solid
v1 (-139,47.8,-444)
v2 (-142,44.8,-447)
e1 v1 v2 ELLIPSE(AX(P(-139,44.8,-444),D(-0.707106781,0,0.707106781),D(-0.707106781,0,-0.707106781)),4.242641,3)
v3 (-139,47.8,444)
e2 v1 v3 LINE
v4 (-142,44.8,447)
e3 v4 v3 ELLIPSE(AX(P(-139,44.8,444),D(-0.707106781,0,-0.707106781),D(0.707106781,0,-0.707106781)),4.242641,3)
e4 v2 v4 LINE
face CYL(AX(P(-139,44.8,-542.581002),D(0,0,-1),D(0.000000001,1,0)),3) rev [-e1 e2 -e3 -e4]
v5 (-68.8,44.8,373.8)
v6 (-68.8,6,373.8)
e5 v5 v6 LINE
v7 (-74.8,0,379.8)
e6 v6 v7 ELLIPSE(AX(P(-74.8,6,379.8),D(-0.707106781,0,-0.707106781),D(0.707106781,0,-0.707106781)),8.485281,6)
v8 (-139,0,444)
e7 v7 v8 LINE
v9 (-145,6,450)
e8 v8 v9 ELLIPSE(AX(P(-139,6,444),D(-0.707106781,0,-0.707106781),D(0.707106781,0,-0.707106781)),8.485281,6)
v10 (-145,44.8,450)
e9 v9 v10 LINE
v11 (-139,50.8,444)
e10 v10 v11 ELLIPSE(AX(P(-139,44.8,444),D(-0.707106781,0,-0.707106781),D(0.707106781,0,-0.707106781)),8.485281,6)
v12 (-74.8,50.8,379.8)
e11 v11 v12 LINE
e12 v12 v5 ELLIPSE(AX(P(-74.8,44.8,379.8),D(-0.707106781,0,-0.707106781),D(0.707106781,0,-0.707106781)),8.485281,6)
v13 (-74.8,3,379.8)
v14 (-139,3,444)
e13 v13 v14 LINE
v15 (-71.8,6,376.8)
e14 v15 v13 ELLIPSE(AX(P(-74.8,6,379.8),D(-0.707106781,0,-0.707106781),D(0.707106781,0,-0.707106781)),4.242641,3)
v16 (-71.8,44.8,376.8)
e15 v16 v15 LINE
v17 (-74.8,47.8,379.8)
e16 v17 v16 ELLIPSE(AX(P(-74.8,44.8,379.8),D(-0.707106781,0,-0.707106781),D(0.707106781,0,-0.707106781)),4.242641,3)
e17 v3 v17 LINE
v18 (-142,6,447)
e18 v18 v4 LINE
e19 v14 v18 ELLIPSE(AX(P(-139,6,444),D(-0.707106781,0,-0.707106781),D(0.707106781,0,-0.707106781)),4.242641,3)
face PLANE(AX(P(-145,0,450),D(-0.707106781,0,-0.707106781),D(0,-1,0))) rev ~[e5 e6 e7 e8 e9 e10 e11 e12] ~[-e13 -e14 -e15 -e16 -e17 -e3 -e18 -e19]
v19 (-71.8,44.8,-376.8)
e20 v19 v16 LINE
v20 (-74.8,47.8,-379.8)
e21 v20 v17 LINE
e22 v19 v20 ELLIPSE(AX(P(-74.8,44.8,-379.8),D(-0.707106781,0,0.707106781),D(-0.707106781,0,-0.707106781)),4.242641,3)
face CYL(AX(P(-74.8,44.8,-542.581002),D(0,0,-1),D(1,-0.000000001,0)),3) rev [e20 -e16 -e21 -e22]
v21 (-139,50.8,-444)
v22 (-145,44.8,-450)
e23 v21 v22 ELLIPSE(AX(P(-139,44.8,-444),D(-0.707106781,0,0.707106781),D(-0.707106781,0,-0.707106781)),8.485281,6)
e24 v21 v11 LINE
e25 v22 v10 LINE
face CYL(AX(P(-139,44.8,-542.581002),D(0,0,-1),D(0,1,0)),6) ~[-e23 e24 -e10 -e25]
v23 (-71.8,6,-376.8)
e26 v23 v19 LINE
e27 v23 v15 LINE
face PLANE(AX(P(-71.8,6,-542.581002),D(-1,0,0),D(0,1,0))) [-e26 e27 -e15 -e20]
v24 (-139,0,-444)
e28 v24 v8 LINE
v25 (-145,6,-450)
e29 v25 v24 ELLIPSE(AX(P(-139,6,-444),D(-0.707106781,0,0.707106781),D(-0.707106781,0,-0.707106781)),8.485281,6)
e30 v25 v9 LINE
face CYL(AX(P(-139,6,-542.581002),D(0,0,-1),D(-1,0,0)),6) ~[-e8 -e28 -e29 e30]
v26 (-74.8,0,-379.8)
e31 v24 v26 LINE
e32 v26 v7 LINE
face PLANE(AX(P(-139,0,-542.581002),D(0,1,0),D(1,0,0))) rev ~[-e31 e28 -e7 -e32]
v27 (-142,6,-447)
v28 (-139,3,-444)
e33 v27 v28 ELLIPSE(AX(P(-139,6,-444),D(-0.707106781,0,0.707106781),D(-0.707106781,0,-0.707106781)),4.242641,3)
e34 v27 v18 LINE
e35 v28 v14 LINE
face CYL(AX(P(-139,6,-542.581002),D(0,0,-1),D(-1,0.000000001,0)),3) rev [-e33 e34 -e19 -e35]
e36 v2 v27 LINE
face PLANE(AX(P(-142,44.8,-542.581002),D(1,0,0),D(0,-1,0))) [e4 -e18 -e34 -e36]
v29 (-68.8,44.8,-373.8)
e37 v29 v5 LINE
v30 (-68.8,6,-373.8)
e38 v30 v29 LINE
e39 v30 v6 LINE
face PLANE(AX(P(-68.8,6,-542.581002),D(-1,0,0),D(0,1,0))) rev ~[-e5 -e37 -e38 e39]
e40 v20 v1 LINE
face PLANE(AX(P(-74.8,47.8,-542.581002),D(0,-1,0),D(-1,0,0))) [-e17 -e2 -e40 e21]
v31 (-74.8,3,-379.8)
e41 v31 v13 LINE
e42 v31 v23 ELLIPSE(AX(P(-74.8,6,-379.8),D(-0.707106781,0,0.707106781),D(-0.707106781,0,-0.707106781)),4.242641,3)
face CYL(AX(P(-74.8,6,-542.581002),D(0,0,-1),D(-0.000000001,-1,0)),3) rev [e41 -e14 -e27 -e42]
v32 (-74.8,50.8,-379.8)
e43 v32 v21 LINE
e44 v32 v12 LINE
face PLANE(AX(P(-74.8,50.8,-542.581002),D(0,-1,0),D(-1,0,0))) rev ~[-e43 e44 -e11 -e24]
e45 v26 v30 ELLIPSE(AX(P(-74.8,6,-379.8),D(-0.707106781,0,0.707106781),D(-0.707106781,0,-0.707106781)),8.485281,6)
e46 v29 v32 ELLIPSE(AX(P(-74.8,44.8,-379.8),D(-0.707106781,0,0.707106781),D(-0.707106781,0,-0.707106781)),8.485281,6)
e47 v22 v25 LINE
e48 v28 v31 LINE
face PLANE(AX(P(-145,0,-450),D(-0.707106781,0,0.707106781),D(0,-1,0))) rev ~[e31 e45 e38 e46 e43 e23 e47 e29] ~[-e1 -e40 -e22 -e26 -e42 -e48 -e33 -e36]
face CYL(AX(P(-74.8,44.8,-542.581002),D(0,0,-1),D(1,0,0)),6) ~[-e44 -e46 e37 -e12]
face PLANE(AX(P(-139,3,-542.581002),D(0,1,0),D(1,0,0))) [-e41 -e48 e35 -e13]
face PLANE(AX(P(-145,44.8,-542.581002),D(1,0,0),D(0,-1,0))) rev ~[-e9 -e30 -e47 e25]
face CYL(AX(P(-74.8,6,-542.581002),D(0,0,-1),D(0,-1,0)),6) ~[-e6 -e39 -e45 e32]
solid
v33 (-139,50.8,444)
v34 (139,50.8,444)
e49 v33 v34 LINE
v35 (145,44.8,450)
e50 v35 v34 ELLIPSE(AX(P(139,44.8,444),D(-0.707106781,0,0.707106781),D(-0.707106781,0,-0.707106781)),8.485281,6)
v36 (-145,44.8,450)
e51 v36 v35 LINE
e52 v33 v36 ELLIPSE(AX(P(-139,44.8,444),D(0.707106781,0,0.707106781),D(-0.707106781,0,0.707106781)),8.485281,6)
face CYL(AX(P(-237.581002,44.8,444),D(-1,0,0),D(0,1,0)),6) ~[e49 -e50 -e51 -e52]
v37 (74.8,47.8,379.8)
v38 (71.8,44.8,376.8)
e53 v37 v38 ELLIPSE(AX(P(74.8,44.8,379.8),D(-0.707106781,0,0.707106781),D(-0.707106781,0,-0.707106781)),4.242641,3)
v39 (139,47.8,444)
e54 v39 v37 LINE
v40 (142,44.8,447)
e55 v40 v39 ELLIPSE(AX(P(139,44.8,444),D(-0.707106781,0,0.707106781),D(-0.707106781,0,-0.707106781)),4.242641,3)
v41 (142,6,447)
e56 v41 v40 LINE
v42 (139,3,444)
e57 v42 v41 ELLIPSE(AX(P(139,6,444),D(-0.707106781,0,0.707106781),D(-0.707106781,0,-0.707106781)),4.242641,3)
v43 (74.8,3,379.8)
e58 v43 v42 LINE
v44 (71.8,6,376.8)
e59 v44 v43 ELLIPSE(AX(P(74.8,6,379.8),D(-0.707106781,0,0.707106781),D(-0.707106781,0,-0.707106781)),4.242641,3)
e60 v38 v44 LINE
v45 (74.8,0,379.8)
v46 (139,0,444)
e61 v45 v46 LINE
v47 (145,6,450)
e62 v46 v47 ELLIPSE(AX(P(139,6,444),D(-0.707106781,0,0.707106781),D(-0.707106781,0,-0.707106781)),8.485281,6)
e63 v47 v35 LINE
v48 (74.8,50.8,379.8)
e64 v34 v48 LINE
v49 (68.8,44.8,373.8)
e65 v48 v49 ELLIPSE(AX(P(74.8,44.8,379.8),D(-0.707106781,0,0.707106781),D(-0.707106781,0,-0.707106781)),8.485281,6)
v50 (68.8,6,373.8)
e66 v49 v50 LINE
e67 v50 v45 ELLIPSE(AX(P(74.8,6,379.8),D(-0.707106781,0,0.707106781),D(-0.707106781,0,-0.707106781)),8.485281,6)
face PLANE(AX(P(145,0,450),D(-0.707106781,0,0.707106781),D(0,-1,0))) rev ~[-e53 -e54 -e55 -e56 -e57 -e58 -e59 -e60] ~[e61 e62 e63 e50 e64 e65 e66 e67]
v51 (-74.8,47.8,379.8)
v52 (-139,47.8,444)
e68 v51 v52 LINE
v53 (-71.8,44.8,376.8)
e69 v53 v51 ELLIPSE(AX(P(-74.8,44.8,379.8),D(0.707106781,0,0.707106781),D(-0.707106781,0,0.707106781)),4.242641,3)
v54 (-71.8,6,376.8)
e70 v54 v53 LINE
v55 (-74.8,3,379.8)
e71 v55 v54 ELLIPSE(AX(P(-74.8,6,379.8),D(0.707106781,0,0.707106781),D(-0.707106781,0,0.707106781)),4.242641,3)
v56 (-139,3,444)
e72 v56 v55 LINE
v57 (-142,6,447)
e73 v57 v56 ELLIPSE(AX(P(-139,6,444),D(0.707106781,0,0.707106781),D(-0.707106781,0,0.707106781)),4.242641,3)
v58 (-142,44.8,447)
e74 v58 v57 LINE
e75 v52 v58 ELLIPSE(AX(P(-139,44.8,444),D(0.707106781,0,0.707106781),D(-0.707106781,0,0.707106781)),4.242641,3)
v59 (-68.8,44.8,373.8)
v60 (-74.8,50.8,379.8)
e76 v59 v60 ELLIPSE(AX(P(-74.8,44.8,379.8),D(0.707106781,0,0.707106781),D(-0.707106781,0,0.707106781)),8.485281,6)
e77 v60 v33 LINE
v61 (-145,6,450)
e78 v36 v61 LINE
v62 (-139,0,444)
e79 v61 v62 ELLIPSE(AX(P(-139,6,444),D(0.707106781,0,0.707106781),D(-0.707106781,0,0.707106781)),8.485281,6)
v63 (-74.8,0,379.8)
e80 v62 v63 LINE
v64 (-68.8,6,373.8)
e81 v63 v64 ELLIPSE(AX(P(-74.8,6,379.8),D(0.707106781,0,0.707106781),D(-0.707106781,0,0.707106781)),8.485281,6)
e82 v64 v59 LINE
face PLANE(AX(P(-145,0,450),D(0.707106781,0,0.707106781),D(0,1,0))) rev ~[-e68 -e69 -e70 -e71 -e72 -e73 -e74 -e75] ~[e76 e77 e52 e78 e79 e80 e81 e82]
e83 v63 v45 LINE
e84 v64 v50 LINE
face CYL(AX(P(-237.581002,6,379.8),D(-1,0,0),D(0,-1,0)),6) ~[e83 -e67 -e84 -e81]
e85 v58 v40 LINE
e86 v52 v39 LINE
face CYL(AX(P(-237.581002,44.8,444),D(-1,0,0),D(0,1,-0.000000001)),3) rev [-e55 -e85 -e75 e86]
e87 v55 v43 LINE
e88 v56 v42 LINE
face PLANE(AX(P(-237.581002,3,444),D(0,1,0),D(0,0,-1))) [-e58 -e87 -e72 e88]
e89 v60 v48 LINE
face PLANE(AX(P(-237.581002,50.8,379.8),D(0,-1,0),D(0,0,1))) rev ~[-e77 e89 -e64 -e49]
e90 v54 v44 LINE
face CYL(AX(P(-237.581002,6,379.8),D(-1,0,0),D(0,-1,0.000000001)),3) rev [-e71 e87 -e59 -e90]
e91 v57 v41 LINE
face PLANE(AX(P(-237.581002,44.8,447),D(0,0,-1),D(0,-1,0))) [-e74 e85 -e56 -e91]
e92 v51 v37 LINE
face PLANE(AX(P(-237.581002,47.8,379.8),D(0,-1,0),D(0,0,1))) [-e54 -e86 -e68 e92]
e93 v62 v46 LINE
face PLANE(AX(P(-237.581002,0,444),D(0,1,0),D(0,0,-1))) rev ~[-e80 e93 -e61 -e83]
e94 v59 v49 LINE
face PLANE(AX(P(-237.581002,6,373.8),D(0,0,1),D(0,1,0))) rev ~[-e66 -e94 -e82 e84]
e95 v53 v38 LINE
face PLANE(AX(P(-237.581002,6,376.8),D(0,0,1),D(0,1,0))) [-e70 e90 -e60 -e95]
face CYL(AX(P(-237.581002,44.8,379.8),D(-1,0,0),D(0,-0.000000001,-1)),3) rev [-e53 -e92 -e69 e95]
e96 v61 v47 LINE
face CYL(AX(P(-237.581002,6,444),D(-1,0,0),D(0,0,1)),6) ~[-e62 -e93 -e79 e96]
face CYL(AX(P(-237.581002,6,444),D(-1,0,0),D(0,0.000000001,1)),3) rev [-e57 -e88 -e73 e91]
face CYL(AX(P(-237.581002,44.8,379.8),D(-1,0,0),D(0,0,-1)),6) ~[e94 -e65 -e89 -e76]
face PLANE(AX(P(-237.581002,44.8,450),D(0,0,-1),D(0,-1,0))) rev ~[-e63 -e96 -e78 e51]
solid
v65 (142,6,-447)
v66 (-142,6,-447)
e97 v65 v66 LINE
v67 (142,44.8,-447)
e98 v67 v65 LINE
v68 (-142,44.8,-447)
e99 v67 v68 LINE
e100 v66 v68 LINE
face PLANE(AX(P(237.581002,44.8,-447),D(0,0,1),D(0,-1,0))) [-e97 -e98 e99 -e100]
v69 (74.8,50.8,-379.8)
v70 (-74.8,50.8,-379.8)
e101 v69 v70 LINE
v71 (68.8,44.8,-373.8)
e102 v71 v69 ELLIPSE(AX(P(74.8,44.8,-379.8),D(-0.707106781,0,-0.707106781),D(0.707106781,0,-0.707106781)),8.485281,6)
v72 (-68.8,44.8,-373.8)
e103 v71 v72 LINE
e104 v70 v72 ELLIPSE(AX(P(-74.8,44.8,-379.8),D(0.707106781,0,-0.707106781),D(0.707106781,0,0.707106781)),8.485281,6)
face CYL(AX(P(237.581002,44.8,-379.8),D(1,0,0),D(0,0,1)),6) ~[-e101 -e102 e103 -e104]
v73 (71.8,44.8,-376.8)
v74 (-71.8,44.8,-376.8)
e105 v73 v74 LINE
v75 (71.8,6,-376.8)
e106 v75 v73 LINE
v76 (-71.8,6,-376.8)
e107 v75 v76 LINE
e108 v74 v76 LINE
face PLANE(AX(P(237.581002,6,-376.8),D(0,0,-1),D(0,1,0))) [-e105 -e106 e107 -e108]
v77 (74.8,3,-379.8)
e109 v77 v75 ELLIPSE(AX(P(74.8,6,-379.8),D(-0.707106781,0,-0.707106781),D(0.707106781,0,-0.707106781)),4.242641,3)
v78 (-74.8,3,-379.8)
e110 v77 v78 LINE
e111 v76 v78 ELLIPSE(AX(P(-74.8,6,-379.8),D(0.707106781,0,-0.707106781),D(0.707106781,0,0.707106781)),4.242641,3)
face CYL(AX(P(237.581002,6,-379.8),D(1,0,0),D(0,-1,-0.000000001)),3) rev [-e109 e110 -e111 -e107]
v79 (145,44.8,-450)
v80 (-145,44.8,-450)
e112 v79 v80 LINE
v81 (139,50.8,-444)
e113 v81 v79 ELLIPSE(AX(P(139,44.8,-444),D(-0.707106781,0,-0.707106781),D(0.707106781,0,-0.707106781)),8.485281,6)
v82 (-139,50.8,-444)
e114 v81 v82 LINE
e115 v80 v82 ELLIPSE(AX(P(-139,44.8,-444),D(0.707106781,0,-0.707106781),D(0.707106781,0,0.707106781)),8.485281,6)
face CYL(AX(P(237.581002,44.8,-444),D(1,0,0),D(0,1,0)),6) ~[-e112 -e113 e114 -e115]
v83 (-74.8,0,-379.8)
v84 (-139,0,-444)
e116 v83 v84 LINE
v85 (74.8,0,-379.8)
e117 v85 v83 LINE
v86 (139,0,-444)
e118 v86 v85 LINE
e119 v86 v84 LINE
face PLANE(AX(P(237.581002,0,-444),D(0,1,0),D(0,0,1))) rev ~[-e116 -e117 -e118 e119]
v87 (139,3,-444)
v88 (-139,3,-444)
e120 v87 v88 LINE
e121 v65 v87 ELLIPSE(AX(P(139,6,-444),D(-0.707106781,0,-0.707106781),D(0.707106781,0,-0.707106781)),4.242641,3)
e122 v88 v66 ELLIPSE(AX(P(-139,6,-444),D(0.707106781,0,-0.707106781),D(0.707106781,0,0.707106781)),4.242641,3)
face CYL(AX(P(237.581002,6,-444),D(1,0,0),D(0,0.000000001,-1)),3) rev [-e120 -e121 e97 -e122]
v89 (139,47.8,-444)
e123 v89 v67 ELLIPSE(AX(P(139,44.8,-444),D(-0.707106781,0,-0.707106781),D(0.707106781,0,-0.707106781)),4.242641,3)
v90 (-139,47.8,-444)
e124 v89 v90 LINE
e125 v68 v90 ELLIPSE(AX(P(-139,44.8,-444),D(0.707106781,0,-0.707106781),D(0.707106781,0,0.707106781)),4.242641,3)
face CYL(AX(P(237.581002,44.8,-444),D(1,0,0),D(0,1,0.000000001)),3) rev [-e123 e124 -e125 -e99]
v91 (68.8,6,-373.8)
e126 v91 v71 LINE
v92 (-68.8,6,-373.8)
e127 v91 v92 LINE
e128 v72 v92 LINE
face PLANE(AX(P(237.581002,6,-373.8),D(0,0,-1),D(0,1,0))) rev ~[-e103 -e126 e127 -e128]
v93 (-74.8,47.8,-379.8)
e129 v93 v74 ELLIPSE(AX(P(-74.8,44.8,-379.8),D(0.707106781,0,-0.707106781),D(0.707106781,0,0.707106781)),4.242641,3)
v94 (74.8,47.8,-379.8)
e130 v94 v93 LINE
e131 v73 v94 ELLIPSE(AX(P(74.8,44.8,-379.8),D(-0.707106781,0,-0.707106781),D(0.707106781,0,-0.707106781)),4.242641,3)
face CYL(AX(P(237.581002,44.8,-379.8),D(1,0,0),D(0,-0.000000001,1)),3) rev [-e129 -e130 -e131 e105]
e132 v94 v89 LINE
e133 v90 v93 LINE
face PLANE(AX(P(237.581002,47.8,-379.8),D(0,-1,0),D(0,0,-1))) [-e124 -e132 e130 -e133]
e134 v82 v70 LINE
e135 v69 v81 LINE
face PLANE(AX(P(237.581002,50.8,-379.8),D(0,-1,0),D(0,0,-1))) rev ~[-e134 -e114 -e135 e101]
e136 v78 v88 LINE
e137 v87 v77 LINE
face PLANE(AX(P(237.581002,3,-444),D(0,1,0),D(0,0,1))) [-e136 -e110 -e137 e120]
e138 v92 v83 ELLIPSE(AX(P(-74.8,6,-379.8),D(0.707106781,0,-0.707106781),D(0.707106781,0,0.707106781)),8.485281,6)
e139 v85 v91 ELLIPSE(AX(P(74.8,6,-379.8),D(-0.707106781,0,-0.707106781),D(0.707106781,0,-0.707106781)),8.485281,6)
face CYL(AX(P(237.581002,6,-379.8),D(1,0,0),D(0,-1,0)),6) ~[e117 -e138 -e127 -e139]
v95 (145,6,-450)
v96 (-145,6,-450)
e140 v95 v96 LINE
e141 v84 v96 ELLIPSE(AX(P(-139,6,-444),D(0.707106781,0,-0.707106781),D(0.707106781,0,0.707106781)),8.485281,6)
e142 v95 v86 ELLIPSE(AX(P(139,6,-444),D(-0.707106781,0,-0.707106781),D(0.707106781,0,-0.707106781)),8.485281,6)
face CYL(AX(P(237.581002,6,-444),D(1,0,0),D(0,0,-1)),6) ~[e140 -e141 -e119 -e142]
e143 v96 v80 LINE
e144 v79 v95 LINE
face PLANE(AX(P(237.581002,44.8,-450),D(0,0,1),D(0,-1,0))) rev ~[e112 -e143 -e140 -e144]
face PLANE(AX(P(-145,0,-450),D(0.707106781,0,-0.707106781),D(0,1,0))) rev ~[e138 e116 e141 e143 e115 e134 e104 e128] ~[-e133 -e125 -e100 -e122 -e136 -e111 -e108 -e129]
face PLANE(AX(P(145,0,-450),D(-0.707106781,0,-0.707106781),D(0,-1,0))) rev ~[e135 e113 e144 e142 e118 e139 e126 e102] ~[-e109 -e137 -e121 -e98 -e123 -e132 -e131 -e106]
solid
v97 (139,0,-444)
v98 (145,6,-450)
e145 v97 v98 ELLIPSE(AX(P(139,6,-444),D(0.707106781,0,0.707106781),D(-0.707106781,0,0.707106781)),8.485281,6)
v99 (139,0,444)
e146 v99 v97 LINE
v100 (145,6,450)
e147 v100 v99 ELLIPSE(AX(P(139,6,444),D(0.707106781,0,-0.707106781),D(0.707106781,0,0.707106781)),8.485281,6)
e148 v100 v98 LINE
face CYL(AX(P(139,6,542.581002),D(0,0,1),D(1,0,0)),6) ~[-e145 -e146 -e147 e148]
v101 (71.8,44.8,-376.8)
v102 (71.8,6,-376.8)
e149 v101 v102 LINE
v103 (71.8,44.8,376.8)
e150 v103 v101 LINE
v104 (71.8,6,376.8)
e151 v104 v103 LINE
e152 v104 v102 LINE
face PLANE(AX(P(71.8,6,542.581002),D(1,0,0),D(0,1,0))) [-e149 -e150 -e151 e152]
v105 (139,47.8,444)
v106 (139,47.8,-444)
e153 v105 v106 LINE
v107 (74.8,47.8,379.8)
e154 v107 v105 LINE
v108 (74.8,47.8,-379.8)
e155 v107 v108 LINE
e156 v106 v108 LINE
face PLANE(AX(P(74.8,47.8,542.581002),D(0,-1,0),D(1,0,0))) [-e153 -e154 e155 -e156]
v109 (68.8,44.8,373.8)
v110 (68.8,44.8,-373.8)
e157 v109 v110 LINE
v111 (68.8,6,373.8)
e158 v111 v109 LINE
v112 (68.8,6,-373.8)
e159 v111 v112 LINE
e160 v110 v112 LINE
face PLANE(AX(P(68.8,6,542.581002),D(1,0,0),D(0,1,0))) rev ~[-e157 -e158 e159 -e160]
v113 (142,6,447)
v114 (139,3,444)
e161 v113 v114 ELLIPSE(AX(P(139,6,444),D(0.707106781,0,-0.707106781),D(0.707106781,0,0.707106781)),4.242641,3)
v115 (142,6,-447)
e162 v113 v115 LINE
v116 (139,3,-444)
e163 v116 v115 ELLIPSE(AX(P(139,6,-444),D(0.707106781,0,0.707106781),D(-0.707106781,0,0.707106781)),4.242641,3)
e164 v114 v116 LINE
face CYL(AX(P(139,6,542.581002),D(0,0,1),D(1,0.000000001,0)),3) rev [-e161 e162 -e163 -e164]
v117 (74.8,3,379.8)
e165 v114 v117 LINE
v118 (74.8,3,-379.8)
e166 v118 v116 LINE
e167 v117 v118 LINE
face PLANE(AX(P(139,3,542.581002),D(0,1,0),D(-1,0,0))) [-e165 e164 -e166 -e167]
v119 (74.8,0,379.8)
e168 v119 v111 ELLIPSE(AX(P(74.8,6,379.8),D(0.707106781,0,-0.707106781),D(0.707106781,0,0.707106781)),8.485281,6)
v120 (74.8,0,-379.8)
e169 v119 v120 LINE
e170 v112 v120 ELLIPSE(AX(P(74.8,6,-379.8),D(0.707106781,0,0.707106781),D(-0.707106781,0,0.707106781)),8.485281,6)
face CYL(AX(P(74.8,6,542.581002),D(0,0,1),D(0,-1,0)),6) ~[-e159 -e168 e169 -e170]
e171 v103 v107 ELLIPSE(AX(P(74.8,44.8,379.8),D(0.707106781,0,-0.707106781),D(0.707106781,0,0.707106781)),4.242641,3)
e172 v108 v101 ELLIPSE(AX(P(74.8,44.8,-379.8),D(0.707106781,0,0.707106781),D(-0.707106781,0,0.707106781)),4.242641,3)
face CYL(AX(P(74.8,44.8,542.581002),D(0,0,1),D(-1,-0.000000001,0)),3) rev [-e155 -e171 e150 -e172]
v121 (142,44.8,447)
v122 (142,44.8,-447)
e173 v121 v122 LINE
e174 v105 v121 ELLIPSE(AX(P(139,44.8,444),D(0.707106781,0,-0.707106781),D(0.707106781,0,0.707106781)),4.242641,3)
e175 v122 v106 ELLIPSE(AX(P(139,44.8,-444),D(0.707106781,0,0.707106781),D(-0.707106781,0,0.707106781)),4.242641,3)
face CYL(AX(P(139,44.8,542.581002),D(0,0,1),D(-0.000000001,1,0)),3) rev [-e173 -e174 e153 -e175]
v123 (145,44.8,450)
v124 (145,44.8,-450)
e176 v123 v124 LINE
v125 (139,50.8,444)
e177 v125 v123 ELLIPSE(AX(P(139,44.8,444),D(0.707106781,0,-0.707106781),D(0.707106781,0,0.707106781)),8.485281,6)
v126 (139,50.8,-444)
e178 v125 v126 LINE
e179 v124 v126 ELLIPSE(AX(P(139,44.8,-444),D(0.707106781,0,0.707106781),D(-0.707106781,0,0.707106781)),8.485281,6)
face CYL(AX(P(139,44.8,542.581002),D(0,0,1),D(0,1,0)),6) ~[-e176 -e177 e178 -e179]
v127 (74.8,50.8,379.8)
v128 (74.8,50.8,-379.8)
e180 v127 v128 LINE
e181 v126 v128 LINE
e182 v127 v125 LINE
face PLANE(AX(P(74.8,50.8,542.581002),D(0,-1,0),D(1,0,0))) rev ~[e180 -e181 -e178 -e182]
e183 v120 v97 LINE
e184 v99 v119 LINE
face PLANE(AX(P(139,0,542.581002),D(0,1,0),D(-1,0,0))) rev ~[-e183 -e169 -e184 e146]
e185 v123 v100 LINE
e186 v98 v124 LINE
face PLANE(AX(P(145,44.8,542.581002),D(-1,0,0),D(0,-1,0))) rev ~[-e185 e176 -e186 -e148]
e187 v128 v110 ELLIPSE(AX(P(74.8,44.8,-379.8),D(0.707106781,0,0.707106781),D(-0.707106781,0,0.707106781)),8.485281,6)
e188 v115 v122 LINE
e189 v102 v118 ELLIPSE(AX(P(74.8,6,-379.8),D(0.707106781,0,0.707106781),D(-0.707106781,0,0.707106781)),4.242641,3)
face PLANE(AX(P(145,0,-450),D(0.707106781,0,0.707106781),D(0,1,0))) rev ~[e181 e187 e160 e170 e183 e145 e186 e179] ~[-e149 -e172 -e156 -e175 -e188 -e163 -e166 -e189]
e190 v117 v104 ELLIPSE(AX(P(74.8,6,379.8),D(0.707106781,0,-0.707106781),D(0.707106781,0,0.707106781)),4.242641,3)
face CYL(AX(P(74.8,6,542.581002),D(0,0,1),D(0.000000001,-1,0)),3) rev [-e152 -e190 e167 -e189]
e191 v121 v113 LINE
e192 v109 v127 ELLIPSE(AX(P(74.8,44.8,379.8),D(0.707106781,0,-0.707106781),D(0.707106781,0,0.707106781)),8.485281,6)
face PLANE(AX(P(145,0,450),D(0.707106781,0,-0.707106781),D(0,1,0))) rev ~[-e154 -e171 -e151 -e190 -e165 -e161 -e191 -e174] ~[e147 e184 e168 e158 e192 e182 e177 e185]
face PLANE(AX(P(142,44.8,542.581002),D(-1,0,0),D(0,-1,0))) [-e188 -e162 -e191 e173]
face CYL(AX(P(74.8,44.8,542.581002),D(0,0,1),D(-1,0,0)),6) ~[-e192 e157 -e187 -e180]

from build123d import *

# Parameters (mm, degrees)
TUBO_RECTANGULAR_3_X_2_X_0_25_1_DEPTH      = 992.581002397
TUBO_RECTANGULAR_3_X_2_X_0_25_1_DEPTH_BACK = 92.581002397
TUBO_RECTANGULAR_3_X_2_X_0_25_1_2_DEPTH    = 475.162004794
TUBO_RECTANGULAR_3_X_2_X_0_25_1_3_DEPTH    = 1085.162004794
TUBO_RECTANGULAR_3_X_2_X_0_25_1_4_DEPTH    = 475.162004794


with BuildPart() as part:
    # Sketch1 → Tubo rectangular 3 X 2 X 0.25(1) (new, two sides: drawn at the far end of the back side and taken through both)
    with BuildSketch(Plane(origin=(-106.9, 25.4, -450), x_dir=(1, 0, 0), z_dir=(0, 0, 1)).offset(-TUBO_RECTANGULAR_3_X_2_X_0_25_1_DEPTH_BACK)):
        with BuildLine():
            Line((-32.1, -25.4), (32.1, -25.4))
            ThreePointArc((32.1, -25.4), (36.342640687, -23.642640687), (38.1, -19.4))
            Line((38.1, -19.4), (38.1, 19.4))
            ThreePointArc((38.1, 19.4), (36.342640687, 23.642640687), (32.1, 25.4))
            Line((32.1, 25.4), (-32.1, 25.4))
            ThreePointArc((-32.1, 25.4), (-36.342640687, 23.642640687), (-38.1, 19.4))
            Line((-38.1, 19.4), (-38.1, -19.4))
            ThreePointArc((-38.1, -19.4), (-36.342640687, -23.642640687), (-32.1, -25.4))
        make_face()
        with BuildLine():
            Line((-32.1, -22.4), (32.1, -22.4))
            ThreePointArc((32.1, -22.4), (34.221320344, -21.521320344), (35.1, -19.4))
            Line((35.1, -19.4), (35.1, 19.4))
            ThreePointArc((35.1, 19.4), (34.221320344, 21.521320344), (32.1, 22.4))
            Line((32.1, 22.4), (-32.1, 22.4))
            ThreePointArc((-32.1, 22.4), (-34.221320344, 21.521320344), (-35.1, 19.4))
            Line((-35.1, 19.4), (-35.1, -19.4))
            ThreePointArc((-35.1, -19.4), (-34.221320344, -21.521320344), (-32.1, -22.4))
        make_face(mode=Mode.SUBTRACT)
    extrude(amount=TUBO_RECTANGULAR_3_X_2_X_0_25_1_DEPTH + TUBO_RECTANGULAR_3_X_2_X_0_25_1_DEPTH_BACK)

    # Tubo rectangular 3 X 2 X 0.25(1) mitre 1
    split(bisect_by=Plane(origin=(-145, 0, -450), x_dir=(0, -1, 0), z_dir=(-0.707106781, 0, 0.707106781)), keep=Keep.TOP)

    # Tubo rectangular 3 X 2 X 0.25(1) mitre 2
    split(bisect_by=Plane(origin=(-145, 0, 450), x_dir=(0, -1, 0), z_dir=(-0.707106781, 0, -0.707106781)), keep=Keep.TOP)


with BuildPart() as body_2:
    # Sketch1 on segment 2 (carried to segment 2) → Tubo rectangular 3 X 2 X 0.25_1 2 (new body)
    with BuildSketch(Plane(origin=(-237.581002397, 25.4, 411.9), x_dir=(0, 0, -1), z_dir=(1, 0, 0))):
        with BuildLine():
            Line((-32.1, -25.4), (32.1, -25.4))
            ThreePointArc((32.1, -25.4), (36.342640687, -23.642640687), (38.1, -19.4))
            Line((38.1, -19.4), (38.1, 19.4))
            ThreePointArc((38.1, 19.4), (36.342640687, 23.642640687), (32.1, 25.4))
            Line((32.1, 25.4), (-32.1, 25.4))
            ThreePointArc((-32.1, 25.4), (-36.342640687, 23.642640687), (-38.1, 19.4))
            Line((-38.1, 19.4), (-38.1, -19.4))
            ThreePointArc((-38.1, -19.4), (-36.342640687, -23.642640687), (-32.1, -25.4))
        make_face()
        with BuildLine():
            Line((-32.1, -22.4), (32.1, -22.4))
            ThreePointArc((32.1, -22.4), (34.221320344, -21.521320344), (35.1, -19.4))
            Line((35.1, -19.4), (35.1, 19.4))
            ThreePointArc((35.1, 19.4), (34.221320344, 21.521320344), (32.1, 22.4))
            Line((32.1, 22.4), (-32.1, 22.4))
            ThreePointArc((-32.1, 22.4), (-34.221320344, 21.521320344), (-35.1, 19.4))
            Line((-35.1, 19.4), (-35.1, -19.4))
            ThreePointArc((-35.1, -19.4), (-34.221320344, -21.521320344), (-32.1, -22.4))
        make_face(mode=Mode.SUBTRACT)
    extrude(amount=TUBO_RECTANGULAR_3_X_2_X_0_25_1_2_DEPTH)

    # Tubo rectangular 3 X 2 X 0.25_1 2 mitre
    split(bisect_by=Plane(origin=(-145, 0, 450), x_dir=(0, 1, 0), z_dir=(0.707106781, 0, 0.707106781)), keep=Keep.TOP)

    # Tubo rectangular 3 X 2 X 0.25_1 2 mi 2
    split(bisect_by=Plane(origin=(145, 0, 450), x_dir=(0, -1, 0), z_dir=(-0.707106781, 0, 0.707106781)), keep=Keep.TOP)


with BuildPart() as body_3:
    # Sketch1 on segment 3 (carried to segment 3) → Tubo rectangular 3 X 2 X 0.25_1 3 (new body)
    with BuildSketch(Plane(origin=(106.9, 25.4, 542.581002397), x_dir=(-1, 0, 0), z_dir=(0, 0, -1))):
        with BuildLine():
            Line((-32.1, -25.4), (32.1, -25.4))
            ThreePointArc((32.1, -25.4), (36.342640687, -23.642640687), (38.1, -19.4))
            Line((38.1, -19.4), (38.1, 19.4))
            ThreePointArc((38.1, 19.4), (36.342640687, 23.642640687), (32.1, 25.4))
            Line((32.1, 25.4), (-32.1, 25.4))
            ThreePointArc((-32.1, 25.4), (-36.342640687, 23.642640687), (-38.1, 19.4))
            Line((-38.1, 19.4), (-38.1, -19.4))
            ThreePointArc((-38.1, -19.4), (-36.342640687, -23.642640687), (-32.1, -25.4))
        make_face()
        with BuildLine():
            Line((-32.1, -22.4), (32.1, -22.4))
            ThreePointArc((32.1, -22.4), (34.221320344, -21.521320344), (35.1, -19.4))
            Line((35.1, -19.4), (35.1, 19.4))
            ThreePointArc((35.1, 19.4), (34.221320344, 21.521320344), (32.1, 22.4))
            Line((32.1, 22.4), (-32.1, 22.4))
            ThreePointArc((-32.1, 22.4), (-34.221320344, 21.521320344), (-35.1, 19.4))
            Line((-35.1, 19.4), (-35.1, -19.4))
            ThreePointArc((-35.1, -19.4), (-34.221320344, -21.521320344), (-32.1, -22.4))
        make_face(mode=Mode.SUBTRACT)
    extrude(amount=TUBO_RECTANGULAR_3_X_2_X_0_25_1_3_DEPTH)

    # Tubo rectangular 3 X 2 X 0.25_1 3 mitre
    split(bisect_by=Plane(origin=(145, 0, -450), x_dir=(0, 1, 0), z_dir=(0.707106781, 0, 0.707106781)), keep=Keep.TOP)

    # Tubo rectangular 3 X 2 X 0.25_1 3 mi 2
    split(bisect_by=Plane(origin=(145, 0, 450), x_dir=(0, 1, 0), z_dir=(0.707106781, 0, -0.707106781)), keep=Keep.TOP)


with BuildPart() as body_4:
    # Sketch1 on segment 4 (carried to segment 4) → Tubo rectangular 3 X 2 X 0.25_1 4 (new body)
    with BuildSketch(Plane(origin=(237.581002397, 25.4, -411.9), x_dir=(0, 0, 1), z_dir=(-1, 0, 0))):
        with BuildLine():
            Line((-32.1, -25.4), (32.1, -25.4))
            ThreePointArc((32.1, -25.4), (36.342640687, -23.642640687), (38.1, -19.4))
            Line((38.1, -19.4), (38.1, 19.4))
            ThreePointArc((38.1, 19.4), (36.342640687, 23.642640687), (32.1, 25.4))
            Line((32.1, 25.4), (-32.1, 25.4))
            ThreePointArc((-32.1, 25.4), (-36.342640687, 23.642640687), (-38.1, 19.4))
            Line((-38.1, 19.4), (-38.1, -19.4))
            ThreePointArc((-38.1, -19.4), (-36.342640687, -23.642640687), (-32.1, -25.4))
        make_face()
        with BuildLine():
            Line((-32.1, -22.4), (32.1, -22.4))
            ThreePointArc((32.1, -22.4), (34.221320344, -21.521320344), (35.1, -19.4))
            Line((35.1, -19.4), (35.1, 19.4))
            ThreePointArc((35.1, 19.4), (34.221320344, 21.521320344), (32.1, 22.4))
            Line((32.1, 22.4), (-32.1, 22.4))
            ThreePointArc((-32.1, 22.4), (-34.221320344, 21.521320344), (-35.1, 19.4))
            Line((-35.1, 19.4), (-35.1, -19.4))
            ThreePointArc((-35.1, -19.4), (-34.221320344, -21.521320344), (-32.1, -22.4))
        make_face(mode=Mode.SUBTRACT)
    extrude(amount=TUBO_RECTANGULAR_3_X_2_X_0_25_1_4_DEPTH)

    # Tubo rectangular 3 X 2 X 0.25_1 4 mitre
    split(bisect_by=Plane(origin=(-145, 0, -450), x_dir=(0, 1, 0), z_dir=(0.707106781, 0, -0.707106781)), keep=Keep.TOP)

    # Tubo rectangular 3 X 2 X 0.25_1 4 mi 2
    split(bisect_by=Plane(origin=(145, 0, -450), x_dir=(0, -1, 0), z_dir=(-0.707106781, 0, -0.707106781)), keep=Keep.TOP)


solid = Compound([part.part, body_2.part, body_3.part, body_4.part])
